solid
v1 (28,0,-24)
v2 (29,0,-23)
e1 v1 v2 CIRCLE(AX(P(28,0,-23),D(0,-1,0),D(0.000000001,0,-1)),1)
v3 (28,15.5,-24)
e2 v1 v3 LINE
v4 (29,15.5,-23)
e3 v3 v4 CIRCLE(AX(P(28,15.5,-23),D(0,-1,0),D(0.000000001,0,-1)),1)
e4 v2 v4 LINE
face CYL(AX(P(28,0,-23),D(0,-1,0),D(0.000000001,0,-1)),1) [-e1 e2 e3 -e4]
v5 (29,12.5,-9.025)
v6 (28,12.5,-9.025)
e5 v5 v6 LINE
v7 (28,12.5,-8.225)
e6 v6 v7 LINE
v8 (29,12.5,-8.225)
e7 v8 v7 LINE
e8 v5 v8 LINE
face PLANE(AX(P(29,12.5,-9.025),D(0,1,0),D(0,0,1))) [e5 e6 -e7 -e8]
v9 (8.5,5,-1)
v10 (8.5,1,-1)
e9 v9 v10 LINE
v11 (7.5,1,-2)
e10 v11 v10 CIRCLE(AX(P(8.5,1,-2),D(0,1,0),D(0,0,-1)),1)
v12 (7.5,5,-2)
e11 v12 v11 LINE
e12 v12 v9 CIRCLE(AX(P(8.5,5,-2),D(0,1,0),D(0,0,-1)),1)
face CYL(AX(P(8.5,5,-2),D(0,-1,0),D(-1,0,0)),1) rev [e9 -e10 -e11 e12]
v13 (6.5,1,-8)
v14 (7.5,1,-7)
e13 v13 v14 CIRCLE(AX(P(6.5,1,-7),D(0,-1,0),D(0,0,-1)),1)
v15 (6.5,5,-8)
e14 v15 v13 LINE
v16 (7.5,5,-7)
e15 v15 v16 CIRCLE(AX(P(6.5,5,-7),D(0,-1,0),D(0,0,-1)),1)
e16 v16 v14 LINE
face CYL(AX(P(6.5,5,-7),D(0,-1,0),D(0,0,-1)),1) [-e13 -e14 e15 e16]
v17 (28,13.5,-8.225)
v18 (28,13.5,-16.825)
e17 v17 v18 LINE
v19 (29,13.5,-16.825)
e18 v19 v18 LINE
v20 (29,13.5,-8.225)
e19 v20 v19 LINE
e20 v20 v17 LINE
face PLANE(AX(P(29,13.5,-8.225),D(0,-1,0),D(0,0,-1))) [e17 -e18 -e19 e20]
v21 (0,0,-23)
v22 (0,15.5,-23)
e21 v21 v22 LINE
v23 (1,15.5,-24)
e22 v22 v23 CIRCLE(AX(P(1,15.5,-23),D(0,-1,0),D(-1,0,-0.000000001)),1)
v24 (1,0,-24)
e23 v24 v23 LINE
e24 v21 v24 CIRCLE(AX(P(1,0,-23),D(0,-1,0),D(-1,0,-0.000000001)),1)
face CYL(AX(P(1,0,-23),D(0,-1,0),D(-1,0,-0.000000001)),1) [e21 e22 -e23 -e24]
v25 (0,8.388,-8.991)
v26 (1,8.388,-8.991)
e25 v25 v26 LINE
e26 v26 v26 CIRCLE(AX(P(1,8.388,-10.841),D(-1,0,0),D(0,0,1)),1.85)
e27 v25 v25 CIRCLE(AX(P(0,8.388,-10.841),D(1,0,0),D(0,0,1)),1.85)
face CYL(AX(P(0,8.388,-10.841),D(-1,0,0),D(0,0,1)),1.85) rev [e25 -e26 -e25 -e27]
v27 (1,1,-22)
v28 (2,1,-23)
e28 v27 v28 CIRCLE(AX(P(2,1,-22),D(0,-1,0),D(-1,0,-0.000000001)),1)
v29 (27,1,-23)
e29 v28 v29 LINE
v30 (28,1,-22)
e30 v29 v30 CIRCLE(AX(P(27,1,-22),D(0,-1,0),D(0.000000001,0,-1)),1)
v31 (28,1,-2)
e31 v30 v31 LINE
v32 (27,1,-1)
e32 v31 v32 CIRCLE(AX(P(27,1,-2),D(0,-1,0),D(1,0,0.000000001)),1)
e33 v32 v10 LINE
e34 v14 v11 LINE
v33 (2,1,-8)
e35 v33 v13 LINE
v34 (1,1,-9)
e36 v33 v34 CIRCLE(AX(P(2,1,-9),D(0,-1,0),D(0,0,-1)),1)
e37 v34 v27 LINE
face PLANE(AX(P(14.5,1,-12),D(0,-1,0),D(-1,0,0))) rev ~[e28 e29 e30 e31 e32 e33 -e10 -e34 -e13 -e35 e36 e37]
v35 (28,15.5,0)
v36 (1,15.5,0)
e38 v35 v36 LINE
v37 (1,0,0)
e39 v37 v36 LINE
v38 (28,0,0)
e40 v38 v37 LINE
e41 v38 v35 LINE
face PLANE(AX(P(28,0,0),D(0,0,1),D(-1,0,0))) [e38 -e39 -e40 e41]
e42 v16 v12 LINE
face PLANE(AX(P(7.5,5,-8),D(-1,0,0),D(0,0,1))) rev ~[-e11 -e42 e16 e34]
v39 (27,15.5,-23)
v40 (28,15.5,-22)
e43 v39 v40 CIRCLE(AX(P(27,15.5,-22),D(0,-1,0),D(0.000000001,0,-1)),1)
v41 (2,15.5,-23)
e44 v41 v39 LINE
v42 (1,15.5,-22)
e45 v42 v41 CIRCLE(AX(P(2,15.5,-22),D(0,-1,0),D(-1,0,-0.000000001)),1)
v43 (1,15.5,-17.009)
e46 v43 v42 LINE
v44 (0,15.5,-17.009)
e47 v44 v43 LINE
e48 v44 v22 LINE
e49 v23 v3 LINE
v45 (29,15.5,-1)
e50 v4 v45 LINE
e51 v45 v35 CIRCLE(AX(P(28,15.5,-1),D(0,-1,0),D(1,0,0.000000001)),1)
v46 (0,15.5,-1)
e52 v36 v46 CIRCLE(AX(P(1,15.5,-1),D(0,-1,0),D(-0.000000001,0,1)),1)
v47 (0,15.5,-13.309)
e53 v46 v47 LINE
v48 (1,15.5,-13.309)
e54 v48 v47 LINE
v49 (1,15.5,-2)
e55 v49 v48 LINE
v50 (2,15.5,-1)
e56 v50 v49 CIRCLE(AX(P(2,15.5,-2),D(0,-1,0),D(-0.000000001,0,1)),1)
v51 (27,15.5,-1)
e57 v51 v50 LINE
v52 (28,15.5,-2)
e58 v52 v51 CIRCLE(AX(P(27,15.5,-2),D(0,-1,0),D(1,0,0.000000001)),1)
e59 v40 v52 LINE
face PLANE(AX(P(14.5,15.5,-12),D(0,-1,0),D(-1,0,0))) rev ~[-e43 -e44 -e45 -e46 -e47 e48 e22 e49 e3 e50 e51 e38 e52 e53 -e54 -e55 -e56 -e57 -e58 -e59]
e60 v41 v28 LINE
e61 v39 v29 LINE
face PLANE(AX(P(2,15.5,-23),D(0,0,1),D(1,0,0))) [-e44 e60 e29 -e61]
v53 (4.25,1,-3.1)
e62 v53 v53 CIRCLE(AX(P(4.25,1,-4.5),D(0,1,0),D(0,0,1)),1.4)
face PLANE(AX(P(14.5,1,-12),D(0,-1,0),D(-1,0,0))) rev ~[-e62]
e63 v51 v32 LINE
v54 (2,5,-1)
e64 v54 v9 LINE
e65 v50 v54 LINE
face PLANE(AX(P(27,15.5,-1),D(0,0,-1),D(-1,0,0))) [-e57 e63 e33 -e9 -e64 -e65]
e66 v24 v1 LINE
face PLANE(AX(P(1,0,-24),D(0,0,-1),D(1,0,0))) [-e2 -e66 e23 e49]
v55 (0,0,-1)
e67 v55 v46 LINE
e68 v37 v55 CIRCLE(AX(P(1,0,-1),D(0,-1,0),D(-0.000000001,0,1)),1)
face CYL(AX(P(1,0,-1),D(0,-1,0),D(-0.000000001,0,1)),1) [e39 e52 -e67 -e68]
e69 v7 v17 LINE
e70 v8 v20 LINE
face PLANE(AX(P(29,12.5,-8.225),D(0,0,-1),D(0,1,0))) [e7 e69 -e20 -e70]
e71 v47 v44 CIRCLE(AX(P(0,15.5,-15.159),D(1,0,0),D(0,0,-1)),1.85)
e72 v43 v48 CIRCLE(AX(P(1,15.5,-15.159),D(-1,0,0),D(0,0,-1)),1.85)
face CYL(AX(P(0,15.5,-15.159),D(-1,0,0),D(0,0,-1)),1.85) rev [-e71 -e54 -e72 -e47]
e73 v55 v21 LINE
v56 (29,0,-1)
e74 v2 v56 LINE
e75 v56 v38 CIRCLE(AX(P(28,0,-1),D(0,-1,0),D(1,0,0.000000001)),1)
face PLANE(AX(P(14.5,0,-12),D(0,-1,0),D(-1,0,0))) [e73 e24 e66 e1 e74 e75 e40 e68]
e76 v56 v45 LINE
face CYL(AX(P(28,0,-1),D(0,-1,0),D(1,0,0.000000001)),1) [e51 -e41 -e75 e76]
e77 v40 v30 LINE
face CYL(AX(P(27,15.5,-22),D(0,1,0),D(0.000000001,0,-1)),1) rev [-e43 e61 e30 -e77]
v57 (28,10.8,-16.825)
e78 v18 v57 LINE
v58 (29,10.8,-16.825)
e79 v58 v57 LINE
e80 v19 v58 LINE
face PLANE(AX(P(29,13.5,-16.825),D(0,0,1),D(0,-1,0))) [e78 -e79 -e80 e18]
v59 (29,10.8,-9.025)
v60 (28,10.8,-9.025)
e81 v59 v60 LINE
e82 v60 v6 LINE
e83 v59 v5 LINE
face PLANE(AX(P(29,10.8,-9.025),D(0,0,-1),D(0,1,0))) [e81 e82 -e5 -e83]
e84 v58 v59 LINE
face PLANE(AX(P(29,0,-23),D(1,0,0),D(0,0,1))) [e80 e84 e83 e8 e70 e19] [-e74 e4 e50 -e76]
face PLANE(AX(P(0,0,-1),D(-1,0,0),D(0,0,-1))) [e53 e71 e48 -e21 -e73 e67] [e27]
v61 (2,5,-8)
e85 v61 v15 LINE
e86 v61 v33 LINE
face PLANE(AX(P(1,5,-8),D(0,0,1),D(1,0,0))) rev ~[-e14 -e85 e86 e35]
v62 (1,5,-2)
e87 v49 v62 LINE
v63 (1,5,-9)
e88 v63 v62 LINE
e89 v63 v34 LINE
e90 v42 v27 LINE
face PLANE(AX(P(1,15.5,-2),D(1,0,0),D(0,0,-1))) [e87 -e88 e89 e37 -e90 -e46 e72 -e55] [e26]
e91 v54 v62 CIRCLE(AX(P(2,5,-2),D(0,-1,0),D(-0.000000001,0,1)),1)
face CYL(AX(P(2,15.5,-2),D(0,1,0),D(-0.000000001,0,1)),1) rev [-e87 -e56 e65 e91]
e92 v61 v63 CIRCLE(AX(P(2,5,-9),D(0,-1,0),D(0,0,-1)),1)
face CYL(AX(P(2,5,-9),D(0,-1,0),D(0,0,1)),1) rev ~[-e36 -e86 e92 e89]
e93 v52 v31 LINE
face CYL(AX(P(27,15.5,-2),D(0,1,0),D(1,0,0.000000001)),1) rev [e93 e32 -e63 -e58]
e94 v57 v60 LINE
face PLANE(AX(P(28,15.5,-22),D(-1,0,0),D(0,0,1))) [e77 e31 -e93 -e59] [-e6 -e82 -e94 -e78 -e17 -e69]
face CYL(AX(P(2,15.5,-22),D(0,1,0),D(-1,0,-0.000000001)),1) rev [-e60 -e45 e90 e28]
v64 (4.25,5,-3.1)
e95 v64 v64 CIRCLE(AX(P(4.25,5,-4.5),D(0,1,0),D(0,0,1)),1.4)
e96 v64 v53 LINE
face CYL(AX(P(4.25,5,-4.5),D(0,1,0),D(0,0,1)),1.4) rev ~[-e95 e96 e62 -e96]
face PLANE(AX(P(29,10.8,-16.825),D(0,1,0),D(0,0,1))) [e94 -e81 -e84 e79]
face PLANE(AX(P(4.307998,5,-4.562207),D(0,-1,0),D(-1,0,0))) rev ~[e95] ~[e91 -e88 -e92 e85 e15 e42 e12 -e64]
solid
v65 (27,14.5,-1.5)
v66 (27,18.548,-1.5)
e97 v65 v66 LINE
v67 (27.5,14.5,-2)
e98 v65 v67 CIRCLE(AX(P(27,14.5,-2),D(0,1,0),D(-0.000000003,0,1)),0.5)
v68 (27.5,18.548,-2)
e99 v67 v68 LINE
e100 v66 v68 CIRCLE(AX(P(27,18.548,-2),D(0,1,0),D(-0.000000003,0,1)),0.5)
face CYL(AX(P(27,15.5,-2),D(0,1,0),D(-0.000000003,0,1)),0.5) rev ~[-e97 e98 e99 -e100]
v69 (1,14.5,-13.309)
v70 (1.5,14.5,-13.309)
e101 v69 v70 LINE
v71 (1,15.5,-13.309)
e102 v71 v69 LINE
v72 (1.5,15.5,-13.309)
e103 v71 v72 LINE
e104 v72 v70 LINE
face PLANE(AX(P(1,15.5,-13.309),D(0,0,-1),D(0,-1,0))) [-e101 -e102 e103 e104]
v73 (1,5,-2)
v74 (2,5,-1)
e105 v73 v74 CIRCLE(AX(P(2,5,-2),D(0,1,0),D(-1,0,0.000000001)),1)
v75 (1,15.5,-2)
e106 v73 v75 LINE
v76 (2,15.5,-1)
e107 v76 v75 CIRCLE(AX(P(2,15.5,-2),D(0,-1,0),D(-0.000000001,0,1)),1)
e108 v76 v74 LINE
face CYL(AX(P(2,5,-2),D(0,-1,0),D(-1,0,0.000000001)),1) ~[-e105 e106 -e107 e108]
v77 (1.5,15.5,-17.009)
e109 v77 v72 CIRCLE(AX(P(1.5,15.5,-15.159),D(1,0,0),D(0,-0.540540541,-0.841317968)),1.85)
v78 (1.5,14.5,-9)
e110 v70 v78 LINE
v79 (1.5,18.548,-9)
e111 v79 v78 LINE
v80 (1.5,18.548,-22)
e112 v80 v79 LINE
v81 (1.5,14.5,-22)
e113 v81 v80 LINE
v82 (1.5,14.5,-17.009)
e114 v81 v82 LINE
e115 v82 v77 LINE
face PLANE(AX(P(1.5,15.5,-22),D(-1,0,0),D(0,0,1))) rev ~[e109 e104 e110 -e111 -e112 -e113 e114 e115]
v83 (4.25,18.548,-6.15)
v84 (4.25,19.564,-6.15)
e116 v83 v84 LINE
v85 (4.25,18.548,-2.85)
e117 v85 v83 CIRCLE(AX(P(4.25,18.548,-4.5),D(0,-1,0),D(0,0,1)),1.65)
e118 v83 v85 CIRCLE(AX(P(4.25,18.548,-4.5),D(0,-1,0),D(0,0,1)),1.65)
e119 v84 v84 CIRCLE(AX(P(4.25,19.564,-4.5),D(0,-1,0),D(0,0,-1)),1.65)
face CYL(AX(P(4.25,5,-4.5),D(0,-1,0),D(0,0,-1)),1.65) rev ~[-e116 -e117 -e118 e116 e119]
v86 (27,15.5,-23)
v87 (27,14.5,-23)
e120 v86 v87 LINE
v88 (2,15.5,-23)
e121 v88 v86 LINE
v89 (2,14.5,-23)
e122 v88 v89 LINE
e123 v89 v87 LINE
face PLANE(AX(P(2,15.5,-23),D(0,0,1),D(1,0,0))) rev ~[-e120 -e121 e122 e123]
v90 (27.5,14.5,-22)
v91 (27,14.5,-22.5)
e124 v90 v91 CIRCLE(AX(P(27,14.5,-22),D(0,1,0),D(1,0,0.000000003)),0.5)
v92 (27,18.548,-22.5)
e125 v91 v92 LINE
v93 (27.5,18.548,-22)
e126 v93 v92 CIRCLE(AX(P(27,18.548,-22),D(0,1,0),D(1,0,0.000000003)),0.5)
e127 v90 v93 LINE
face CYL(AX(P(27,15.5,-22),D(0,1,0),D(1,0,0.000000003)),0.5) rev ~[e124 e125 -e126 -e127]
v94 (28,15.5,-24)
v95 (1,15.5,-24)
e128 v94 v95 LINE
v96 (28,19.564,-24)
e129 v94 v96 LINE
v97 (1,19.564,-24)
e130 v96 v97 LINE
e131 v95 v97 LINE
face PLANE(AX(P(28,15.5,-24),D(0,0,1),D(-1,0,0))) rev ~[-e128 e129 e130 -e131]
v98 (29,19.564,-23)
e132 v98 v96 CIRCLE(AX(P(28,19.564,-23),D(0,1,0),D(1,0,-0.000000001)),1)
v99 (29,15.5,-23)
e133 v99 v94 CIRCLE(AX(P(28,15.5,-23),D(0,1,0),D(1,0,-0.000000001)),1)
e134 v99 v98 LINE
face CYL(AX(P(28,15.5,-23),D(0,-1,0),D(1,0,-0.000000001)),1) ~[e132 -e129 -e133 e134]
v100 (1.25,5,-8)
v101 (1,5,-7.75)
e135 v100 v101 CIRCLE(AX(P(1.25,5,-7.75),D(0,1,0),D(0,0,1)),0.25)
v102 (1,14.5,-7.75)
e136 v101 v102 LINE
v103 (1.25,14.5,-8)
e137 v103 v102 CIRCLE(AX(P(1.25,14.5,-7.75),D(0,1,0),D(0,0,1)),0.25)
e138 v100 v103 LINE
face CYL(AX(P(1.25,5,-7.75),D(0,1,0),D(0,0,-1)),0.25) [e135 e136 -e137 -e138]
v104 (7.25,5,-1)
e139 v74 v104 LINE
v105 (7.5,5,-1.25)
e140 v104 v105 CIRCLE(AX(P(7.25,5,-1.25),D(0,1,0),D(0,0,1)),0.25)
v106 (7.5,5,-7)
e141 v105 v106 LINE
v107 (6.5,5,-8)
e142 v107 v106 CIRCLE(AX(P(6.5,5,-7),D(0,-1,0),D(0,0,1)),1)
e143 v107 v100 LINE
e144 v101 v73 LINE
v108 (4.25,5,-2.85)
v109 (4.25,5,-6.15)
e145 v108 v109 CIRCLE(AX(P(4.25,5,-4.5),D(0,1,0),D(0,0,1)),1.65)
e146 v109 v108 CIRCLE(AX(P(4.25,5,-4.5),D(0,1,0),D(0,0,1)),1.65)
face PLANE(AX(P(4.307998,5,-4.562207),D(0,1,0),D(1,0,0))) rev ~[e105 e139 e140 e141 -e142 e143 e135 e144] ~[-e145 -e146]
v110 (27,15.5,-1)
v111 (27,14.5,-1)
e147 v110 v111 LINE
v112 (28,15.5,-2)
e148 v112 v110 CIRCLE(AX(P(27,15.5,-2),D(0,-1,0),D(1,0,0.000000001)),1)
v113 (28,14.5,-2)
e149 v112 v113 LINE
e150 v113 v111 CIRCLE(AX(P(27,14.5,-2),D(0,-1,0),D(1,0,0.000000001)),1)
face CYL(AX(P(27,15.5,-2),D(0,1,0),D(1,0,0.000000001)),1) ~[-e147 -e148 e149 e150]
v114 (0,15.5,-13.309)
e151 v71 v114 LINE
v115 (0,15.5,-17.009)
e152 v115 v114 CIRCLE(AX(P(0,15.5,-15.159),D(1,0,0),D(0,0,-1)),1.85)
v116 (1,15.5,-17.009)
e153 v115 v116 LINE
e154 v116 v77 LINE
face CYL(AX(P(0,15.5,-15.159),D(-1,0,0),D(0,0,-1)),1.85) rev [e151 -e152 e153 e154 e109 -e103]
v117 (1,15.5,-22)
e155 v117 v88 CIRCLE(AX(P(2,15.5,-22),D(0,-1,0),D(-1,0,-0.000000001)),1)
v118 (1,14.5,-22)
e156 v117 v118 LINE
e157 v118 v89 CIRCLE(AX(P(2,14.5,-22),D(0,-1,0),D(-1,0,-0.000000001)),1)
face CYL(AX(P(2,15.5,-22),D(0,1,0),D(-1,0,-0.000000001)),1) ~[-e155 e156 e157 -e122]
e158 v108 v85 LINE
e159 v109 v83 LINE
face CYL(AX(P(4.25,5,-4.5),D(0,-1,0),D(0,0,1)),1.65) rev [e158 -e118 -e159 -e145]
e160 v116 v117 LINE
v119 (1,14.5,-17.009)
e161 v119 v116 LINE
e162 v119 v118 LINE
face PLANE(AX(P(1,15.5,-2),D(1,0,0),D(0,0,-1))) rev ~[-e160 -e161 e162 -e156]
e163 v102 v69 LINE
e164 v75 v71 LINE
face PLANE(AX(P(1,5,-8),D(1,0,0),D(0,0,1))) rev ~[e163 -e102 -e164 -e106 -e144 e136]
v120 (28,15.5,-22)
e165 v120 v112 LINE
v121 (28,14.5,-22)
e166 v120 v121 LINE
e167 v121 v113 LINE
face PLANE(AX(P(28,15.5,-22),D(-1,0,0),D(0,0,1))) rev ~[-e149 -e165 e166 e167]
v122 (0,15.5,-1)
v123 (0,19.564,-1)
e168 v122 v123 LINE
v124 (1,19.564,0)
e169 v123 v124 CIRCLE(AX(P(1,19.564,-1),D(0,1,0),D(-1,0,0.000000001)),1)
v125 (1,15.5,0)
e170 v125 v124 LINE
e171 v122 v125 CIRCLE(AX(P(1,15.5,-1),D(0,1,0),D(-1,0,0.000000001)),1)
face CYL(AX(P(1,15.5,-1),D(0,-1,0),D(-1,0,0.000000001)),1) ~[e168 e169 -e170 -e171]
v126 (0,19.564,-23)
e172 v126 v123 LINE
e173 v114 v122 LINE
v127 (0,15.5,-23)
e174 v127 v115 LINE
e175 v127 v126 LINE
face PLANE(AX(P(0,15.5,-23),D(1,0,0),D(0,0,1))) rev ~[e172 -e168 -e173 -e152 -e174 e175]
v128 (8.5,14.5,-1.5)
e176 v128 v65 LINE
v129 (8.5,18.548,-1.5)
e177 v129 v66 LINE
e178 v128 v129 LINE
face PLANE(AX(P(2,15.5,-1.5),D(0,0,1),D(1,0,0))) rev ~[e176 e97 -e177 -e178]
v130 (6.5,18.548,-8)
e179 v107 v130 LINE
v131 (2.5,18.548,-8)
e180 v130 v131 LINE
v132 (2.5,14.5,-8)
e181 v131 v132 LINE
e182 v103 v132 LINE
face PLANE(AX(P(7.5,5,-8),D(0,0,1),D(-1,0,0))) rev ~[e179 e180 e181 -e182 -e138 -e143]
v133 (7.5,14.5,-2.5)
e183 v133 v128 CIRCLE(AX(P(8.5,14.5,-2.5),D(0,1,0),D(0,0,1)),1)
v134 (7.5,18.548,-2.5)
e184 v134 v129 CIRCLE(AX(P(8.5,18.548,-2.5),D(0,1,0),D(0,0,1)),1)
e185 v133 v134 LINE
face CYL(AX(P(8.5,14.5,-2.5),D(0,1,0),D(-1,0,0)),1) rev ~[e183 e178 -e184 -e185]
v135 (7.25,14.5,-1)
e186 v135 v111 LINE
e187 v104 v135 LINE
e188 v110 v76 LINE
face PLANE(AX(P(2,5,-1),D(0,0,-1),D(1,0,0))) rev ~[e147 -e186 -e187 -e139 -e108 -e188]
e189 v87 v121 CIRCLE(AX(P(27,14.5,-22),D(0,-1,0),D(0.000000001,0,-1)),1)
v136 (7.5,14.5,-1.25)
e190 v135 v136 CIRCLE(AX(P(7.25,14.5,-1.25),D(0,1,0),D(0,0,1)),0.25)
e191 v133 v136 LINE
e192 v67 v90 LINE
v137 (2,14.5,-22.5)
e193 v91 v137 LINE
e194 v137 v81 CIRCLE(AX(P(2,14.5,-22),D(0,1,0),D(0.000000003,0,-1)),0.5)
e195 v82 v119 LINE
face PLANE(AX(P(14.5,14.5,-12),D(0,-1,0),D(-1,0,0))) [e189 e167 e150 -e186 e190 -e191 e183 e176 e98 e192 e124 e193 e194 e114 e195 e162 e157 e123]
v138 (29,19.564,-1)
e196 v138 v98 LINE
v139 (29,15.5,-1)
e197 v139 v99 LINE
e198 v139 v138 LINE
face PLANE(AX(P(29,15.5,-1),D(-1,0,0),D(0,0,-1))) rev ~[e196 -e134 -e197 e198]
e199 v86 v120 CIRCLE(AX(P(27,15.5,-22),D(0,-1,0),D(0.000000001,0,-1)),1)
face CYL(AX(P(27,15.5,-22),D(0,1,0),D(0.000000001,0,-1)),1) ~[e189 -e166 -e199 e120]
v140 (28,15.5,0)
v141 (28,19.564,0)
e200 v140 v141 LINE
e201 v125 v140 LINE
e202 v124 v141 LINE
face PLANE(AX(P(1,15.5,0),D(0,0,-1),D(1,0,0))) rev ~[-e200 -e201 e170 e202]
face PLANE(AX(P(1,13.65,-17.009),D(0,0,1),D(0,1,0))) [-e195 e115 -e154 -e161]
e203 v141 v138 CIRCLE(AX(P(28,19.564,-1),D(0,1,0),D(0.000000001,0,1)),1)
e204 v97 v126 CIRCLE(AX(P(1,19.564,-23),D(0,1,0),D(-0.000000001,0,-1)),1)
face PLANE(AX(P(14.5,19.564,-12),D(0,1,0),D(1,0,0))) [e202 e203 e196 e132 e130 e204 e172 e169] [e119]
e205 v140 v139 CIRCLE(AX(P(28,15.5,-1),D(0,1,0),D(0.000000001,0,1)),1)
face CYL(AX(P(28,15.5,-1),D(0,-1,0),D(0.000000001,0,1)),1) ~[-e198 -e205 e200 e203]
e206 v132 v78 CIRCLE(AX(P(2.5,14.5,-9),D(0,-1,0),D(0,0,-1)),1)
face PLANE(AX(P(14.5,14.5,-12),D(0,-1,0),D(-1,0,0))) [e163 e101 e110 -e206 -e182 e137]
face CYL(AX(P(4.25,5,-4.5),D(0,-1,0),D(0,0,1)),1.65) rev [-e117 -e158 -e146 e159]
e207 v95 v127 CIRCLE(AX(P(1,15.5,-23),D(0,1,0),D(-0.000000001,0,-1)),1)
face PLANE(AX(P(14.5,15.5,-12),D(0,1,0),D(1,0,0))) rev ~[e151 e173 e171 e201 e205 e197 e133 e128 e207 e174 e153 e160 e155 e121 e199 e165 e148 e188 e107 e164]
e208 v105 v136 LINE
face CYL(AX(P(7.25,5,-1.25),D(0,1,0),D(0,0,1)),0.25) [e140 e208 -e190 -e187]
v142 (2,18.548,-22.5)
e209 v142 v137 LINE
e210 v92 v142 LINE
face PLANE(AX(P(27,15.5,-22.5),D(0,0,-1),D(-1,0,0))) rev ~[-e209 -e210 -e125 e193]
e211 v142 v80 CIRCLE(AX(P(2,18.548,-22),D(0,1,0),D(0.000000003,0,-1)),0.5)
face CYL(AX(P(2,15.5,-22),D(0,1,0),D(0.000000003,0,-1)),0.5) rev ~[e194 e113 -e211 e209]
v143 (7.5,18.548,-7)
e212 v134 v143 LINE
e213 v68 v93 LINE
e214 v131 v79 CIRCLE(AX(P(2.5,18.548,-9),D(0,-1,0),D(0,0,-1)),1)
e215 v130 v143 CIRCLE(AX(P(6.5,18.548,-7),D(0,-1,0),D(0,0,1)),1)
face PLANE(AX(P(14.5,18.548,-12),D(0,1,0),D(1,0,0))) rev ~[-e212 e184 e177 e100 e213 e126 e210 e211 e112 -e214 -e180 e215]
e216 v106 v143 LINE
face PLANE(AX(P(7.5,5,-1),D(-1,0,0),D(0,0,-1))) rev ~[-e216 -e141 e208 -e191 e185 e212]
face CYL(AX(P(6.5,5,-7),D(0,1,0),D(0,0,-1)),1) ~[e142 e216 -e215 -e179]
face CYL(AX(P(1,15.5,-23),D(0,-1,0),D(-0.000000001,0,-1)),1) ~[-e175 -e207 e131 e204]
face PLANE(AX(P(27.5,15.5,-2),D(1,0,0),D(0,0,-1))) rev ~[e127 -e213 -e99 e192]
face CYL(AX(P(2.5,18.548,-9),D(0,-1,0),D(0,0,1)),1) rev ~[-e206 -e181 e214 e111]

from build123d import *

# Parameters (mm, degrees)
BOSS_EXTRUDE1_DEPTH = 15.5
CUT_EXTRUDE1_DEPTH  = 14.5
CUT_EXTRUDE3_REACH  = 42.709
BOSS_EXTRUDE2_DEPTH = 4.064
CUT_EXTRUDE4_DEPTH  = 3.048
BOSS_EXTRUDE3_DEPTH = 1
SKETCH3_R           = 1.85
CUT_EXTRUDE2_DEPTH  = 1.5
CUT_EXTRUDE5_START  = 1
CUT_EXTRUDE5_DEPTH  = 0.5
BOSS_EXTRUDE4_START = 4
SKETCH6_R           = 1.4
BOSS_EXTRUDE4_DEPTH = 4
FILLET1_R           = 1
BOSS_EXTRUDE5_REACH = 42.362
SKETCH7_R           = 1.65
SKETCH8_R           = 1.65
CUT_EXTRUDE6_DEPTH  = 41.362236013
FILLET2_R           = 1
FILLET3_R           = 0.25


with BuildPart() as part:
    # Sketch1 → Boss-Extrude1 (new body)
    # profile 1 of 2: a face of its own
    with BuildSketch(Plane(origin=(0, 0, 0), x_dir=(1, 0, 0), z_dir=(0, 1, 0))):
        with BuildLine():
            ThreePointArc((1, 0), (0.292893219, 0.292893219), (0, 1))
            Line((0, 1), (0, 23))
            ThreePointArc((0, 23), (0.292893219, 23.707106781), (1, 24))
            Line((1, 24), (28, 24))
            ThreePointArc((28, 24), (28.707106781, 23.707106781), (29, 23))
            Line((29, 23), (29, 1))
            ThreePointArc((29, 1), (28.707106781, 0.292893219), (28, 0))
            Line((28, 0), (1, 0))
        make_face()
        with BuildLine():
            ThreePointArc((1, 2), (1.292893219, 1.292893219), (2, 1))
            Line((2, 1), (27, 1))
            ThreePointArc((27, 1), (27.707106781, 1.292893219), (28, 2))
            Line((28, 2), (28, 22))
            ThreePointArc((28, 22), (27.707106781, 22.707106781), (27, 23))
            Line((27, 23), (2, 23))
            ThreePointArc((2, 23), (1.292893219, 22.707106781), (1, 22))
            Line((1, 22), (1, 2))
        make_face(mode=Mode.SUBTRACT)
    # profile 2 of 2: a face of its own
    with BuildSketch(Plane(origin=(0, 0, 0), x_dir=(1, 0, 0), z_dir=(0, 1, 0))):
        with BuildLine():
            Line((1, 2), (1, 22))
            ThreePointArc((1, 22), (1.292893219, 22.707106781), (2, 23))
            Line((2, 23), (27, 23))
            ThreePointArc((27, 23), (27.707106781, 22.707106781), (28, 22))
            Line((28, 22), (28, 2))
            ThreePointArc((28, 2), (27.707106781, 1.292893219), (27, 1))
            Line((27, 1), (2, 1))
            ThreePointArc((2, 1), (1.292893219, 1.292893219), (1, 2))
        make_face()
    extrude(amount=BOSS_EXTRUDE1_DEPTH)

    # Sketch2 → Cut-Extrude1 (cut)
    with BuildSketch(Plane(origin=(0, 15.5, 0), x_dir=(1, 0, 0), z_dir=(0, 1, 0))):
        with BuildLine():
            Line((1, 2), (1, 22))
            ThreePointArc((1, 22), (1.292893219, 22.707106781), (2, 23))
            Line((2, 23), (27, 23))
            ThreePointArc((27, 23), (27.707106781, 22.707106781), (28, 22))
            Line((28, 22), (28, 2))
            ThreePointArc((28, 2), (27.707106781, 1.292893219), (27, 1))
            Line((27, 1), (2, 1))
            ThreePointArc((2, 1), (1.292893219, 1.292893219), (1, 2))
        make_face()
    extrude(amount=-CUT_EXTRUDE1_DEPTH, mode=Mode.SUBTRACT)

    # Sketch4 → Cut-Extrude3 (cut, up to next)
    with BuildSketch(Plane(origin=(29, 0, 0), x_dir=(0, 0, -1), z_dir=(1, 0, 0)), mode=Mode.PRIVATE) as cut_extrude3_sk1:
        Polygon((8.225, 13.5), (16.825, 13.5), (16.825, 10.8), (9.025, 10.8), (9.025, 12.5), (8.225, 12.5), align=None)
    cut_extrude3_tool1 = extrude(cut_extrude3_sk1.sketch, amount=-CUT_EXTRUDE3_REACH, mode=Mode.PRIVATE) & part.part
    add(cut_extrude3_tool1.solids().sort_by_distance((29, 12.181107, -12.767635))[0], mode=Mode.SUBTRACT)


with BuildPart() as body_2:
    # Sketch5 → Boss-Extrude2 (new body)
    # profile 1 of 4: a face of its own
    with BuildSketch(Plane(origin=(0, 15.5, 0), x_dir=(1, 0, 0), z_dir=(0, 1, 0))):
        with BuildLine():
            Line((0, 23), (0, 1))
            ThreePointArc((0, 1), (0.292893219, 0.292893219), (1, 0))
            Line((1, 0), (28, 0))
            ThreePointArc((28, 0), (28.707106781, 0.292893219), (29, 1))
            Line((29, 1), (29, 23))
            ThreePointArc((29, 23), (28.707106781, 23.707106781), (28, 24))
            Line((28, 24), (1, 24))
            ThreePointArc((1, 24), (0.292893219, 23.707106781), (0, 23))
        make_face()
        with BuildLine():
            Line((27, 1), (2, 1))
            ThreePointArc((2, 1), (1.292893219, 1.292893219), (1, 2))
            Line((1, 2), (1, 22))
            ThreePointArc((1, 22), (1.292893219, 22.707106781), (2, 23))
            Line((2, 23), (27, 23))
            ThreePointArc((27, 23), (27.707106781, 22.707106781), (28, 22))
            Line((28, 22), (28, 2))
            ThreePointArc((28, 2), (27.707106781, 1.292893219), (27, 1))
        make_face(mode=Mode.SUBTRACT)
    # profile 2 of 4: a face of its own
    with BuildSketch(Plane(origin=(0, 15.5, 0), x_dir=(1, 0, 0), z_dir=(0, 1, 0))):
        with BuildLine():
            ThreePointArc((2, 1), (1.292893219, 1.292893219), (1, 2))
            Line((1, 2), (1, 22))
            ThreePointArc((1, 22), (1.292893219, 22.707106781), (2, 23))
            Line((2, 23), (27, 23))
            ThreePointArc((27, 23), (27.707106781, 22.707106781), (28, 22))
            Line((28, 22), (28, 2))
            ThreePointArc((28, 2), (27.707106781, 1.292893219), (27, 1))
            Line((27, 1), (2, 1))
        make_face()
        with BuildLine():
            ThreePointArc((2, 22.5), (1.646446609, 22.353553391), (1.5, 22))
            Line((1.5, 22), (1.5, 2))
            ThreePointArc((1.5, 2), (1.646446609, 1.646446609), (2, 1.5))
            Line((2, 1.5), (27, 1.5))
            ThreePointArc((27, 1.5), (27.353553391, 1.646446609), (27.5, 2))
            Line((27.5, 2), (27.5, 22))
            ThreePointArc((27.5, 22), (27.353553391, 22.353553391), (27, 22.5))
            Line((27, 22.5), (2, 22.5))
        make_face(mode=Mode.SUBTRACT)
    # profile 3 of 4: a face of its own
    with BuildSketch(Plane(origin=(0, 15.5, 0), x_dir=(1, 0, 0), z_dir=(0, 1, 0))):
        with BuildLine():
            Line((27, 22.5), (2, 22.5))
            ThreePointArc((2, 22.5), (1.646446609, 22.353553391), (1.5, 22))
            Line((1.5, 22), (1.5, 2))
            ThreePointArc((1.5, 2), (1.646446609, 1.646446609), (2, 1.5))
            Line((2, 1.5), (27, 1.5))
            ThreePointArc((27, 1.5), (27.353553391, 1.646446609), (27.5, 2))
            Line((27.5, 2), (27.5, 22))
            ThreePointArc((27.5, 22), (27.353553391, 22.353553391), (27, 22.5))
        make_face()
    # profile 4 of 4: a face of its own
    with BuildSketch(Plane(origin=(0, 15.5, 0), x_dir=(1, 0, 0), z_dir=(0, 1, 0))):
        with BuildLine():
            Line((1, 22), (1, 2))
            ThreePointArc((1, 2), (1.292893219, 1.292893219), (2, 1))
            Line((2, 1), (27, 1))
            ThreePointArc((27, 1), (27.707106781, 1.292893219), (28, 2))
            Line((28, 2), (28, 22))
            ThreePointArc((28, 22), (27.707106781, 22.707106781), (27, 23))
            Line((27, 23), (2, 23))
            ThreePointArc((2, 23), (1.292893219, 22.707106781), (1, 22))
        make_face()
    extrude(amount=BOSS_EXTRUDE2_DEPTH)

    # Sketch5<3> → Cut-Extrude4 (cut)
    with BuildSketch(Plane(origin=(0, 15.5, 0), x_dir=(1, 0, 0), z_dir=(0, 1, 0))):
        with BuildLine():
            Line((27, 22.5), (2, 22.5))
            ThreePointArc((2, 22.5), (1.646446609, 22.353553391), (1.5, 22))
            Line((1.5, 22), (1.5, 2))
            ThreePointArc((1.5, 2), (1.646446609, 1.646446609), (2, 1.5))
            Line((2, 1.5), (27, 1.5))
            ThreePointArc((27, 1.5), (27.353553391, 1.646446609), (27.5, 2))
            Line((27.5, 2), (27.5, 22))
            ThreePointArc((27.5, 22), (27.353553391, 22.353553391), (27, 22.5))
        make_face()
    extrude(amount=CUT_EXTRUDE4_DEPTH, mode=Mode.SUBTRACT)

    # Sketch5<4> → Boss-Extrude3 (add)
    with BuildSketch(Plane(origin=(0, 15.5, 0), x_dir=(1, 0, 0), z_dir=(0, 1, 0))):
        with BuildLine():
            ThreePointArc((2, 1), (1.292893219, 1.292893219), (1, 2))
            Line((1, 2), (1, 22))
            ThreePointArc((1, 22), (1.292893219, 22.707106781), (2, 23))
            Line((2, 23), (27, 23))
            ThreePointArc((27, 23), (27.707106781, 22.707106781), (28, 22))
            Line((28, 22), (28, 2))
            ThreePointArc((28, 2), (27.707106781, 1.292893219), (27, 1))
            Line((27, 1), (2, 1))
        make_face()
        with BuildLine():
            ThreePointArc((2, 22.5), (1.646446609, 22.353553391), (1.5, 22))
            Line((1.5, 22), (1.5, 2))
            ThreePointArc((1.5, 2), (1.646446609, 1.646446609), (2, 1.5))
            Line((2, 1.5), (27, 1.5))
            ThreePointArc((27, 1.5), (27.353553391, 1.646446609), (27.5, 2))
            Line((27.5, 2), (27.5, 22))
            ThreePointArc((27.5, 22), (27.353553391, 22.353553391), (27, 22.5))
            Line((27, 22.5), (2, 22.5))
        make_face(mode=Mode.SUBTRACT)
    extrude(amount=-BOSS_EXTRUDE3_DEPTH)


with BuildPart() as cut_extrude2_tool:
    # Sketch3 → Cut-Extrude2 (new body)
    with BuildSketch(Plane(origin=(0, 0, 0), x_dir=(0, 0, -1), z_dir=(1, 0, 0))):
        with Locations((15.159, 15.5)):
            Circle(SKETCH3_R)
        with Locations(Location((10.841, 8.388, 0), (0, 0, 180))):
            Circle(SKETCH3_R)
    extrude(amount=CUT_EXTRUDE2_DEPTH)


with BuildPart() as part_1:
    add(part.part)

    # Cut-Extrude2: cut by cut_extrude2_tool
    add(cut_extrude2_tool.part, mode=Mode.SUBTRACT)

    # Sketch6 → Boss-Extrude4 (add)
    with BuildSketch(Plane(origin=(0, 1, 0), x_dir=(1, 0, 0), z_dir=(0, 1, 0)).offset(BOSS_EXTRUDE4_START)):
        with BuildLine():
            Line((1, 8), (7.5, 8))
            Line((7.5, 8), (7.5, 1))
            Line((7.5, 1), (2, 1))
            ThreePointArc((2, 1), (1.292893219, 1.292893219), (1, 2))
            Line((1, 2), (1, 8))
        make_face()
        with Locations(Location((4.25, 4.5, 0), (0, 0, 270))):
            Circle(SKETCH6_R, mode=Mode.SUBTRACT)
    extrude(amount=-BOSS_EXTRUDE4_DEPTH)

    # Fillet1
    fillet1_edges = [part_1.edges().sort_by_distance(p)[0] for p in [
        (7.5, 3, -1),
        (7.5, 3, -8),
        (1, 3, -8),
    ]]
    fillet(fillet1_edges, radius=FILLET1_R)


with BuildPart() as body_2_1:
    add(body_2.part)

    # Cut-Extrude2: cut by cut_extrude2_tool
    add(cut_extrude2_tool.part, mode=Mode.SUBTRACT)

    # Sketch3<3> → Cut-Extrude5 (cut)
    with BuildSketch(Plane(origin=(0, 0, 0), x_dir=(0, 0, -1), z_dir=(1, 0, 0)).offset(CUT_EXTRUDE5_START)):
        with BuildLine():
            Line((17.009, 13.65), (17.009, 15.5))
            ThreePointArc((17.009, 15.5), (16.467147545, 14.191852455), (15.159, 13.65))
            Line((15.159, 13.65), (17.009, 13.65))
        make_face()
        with BuildLine():
            ThreePointArc((15.159, 13.65), (13.850852455, 14.191852455), (13.309, 15.5))
            Line((13.309, 15.5), (13.309, 13.65))
            Line((13.309, 13.65), (15.159, 13.65))
        make_face()
    extrude(amount=CUT_EXTRUDE5_DEPTH, mode=Mode.SUBTRACT)

    # Sketch7 → Boss-Extrude5 (add, up to next)
    with BuildSketch(Plane(origin=(0, 5, 0), x_dir=(1, 0, 0), z_dir=(0, 1, 0)), mode=Mode.PRIVATE) as boss_extrude5_sk1:
        with BuildLine():
            Line((7.5, 8), (1, 8))
            Line((1, 8), (1, 2))
            ThreePointArc((1, 2), (1.292893219, 1.292893219), (2, 1))
            Line((2, 1), (7.5, 1))
            Line((7.5, 1), (7.5, 8))
        make_face()
        with Locations(Location((4.25, 4.5, 0), (0, 0, 270))):
            Circle(SKETCH7_R, mode=Mode.SUBTRACT)
    boss_extrude5_tool1 = extrude(boss_extrude5_sk1.sketch, amount=BOSS_EXTRUDE5_REACH, mode=Mode.PRIVATE) - body_2_1.part
    add(boss_extrude5_tool1.solids().sort_by_distance((4.25, 5, -7.904475))[0])

    # Sketch8 → Cut-Extrude6 (cut, through all)
    with BuildSketch(Plane.XZ.offset(-5)):
        with Locations(Location((4.25, -4.5, 0), (0, 0, 270))):
            Circle(SKETCH8_R)
    extrude(amount=-CUT_EXTRUDE6_DEPTH, mode=Mode.SUBTRACT)

    # Fillet2
    fillet2_edges = [body_2_1.edges().sort_by_distance(p)[0] for p in [
        (7.5, 16.524, -1.5),
        (7.5, 11.774, -8),
        (1.5, 16.524, -8),
    ]]
    fillet(fillet2_edges, radius=FILLET2_R)

    # Fillet3
    fillet3_edges = [body_2_1.edges().sort_by_distance(p)[0] for p in [
        (1, 9.75, -8),
        (7.5, 9.75, -1),
    ]]
    fillet(fillet3_edges, radius=FILLET3_R)


solid = Compound([part_1.part, body_2_1.part])
